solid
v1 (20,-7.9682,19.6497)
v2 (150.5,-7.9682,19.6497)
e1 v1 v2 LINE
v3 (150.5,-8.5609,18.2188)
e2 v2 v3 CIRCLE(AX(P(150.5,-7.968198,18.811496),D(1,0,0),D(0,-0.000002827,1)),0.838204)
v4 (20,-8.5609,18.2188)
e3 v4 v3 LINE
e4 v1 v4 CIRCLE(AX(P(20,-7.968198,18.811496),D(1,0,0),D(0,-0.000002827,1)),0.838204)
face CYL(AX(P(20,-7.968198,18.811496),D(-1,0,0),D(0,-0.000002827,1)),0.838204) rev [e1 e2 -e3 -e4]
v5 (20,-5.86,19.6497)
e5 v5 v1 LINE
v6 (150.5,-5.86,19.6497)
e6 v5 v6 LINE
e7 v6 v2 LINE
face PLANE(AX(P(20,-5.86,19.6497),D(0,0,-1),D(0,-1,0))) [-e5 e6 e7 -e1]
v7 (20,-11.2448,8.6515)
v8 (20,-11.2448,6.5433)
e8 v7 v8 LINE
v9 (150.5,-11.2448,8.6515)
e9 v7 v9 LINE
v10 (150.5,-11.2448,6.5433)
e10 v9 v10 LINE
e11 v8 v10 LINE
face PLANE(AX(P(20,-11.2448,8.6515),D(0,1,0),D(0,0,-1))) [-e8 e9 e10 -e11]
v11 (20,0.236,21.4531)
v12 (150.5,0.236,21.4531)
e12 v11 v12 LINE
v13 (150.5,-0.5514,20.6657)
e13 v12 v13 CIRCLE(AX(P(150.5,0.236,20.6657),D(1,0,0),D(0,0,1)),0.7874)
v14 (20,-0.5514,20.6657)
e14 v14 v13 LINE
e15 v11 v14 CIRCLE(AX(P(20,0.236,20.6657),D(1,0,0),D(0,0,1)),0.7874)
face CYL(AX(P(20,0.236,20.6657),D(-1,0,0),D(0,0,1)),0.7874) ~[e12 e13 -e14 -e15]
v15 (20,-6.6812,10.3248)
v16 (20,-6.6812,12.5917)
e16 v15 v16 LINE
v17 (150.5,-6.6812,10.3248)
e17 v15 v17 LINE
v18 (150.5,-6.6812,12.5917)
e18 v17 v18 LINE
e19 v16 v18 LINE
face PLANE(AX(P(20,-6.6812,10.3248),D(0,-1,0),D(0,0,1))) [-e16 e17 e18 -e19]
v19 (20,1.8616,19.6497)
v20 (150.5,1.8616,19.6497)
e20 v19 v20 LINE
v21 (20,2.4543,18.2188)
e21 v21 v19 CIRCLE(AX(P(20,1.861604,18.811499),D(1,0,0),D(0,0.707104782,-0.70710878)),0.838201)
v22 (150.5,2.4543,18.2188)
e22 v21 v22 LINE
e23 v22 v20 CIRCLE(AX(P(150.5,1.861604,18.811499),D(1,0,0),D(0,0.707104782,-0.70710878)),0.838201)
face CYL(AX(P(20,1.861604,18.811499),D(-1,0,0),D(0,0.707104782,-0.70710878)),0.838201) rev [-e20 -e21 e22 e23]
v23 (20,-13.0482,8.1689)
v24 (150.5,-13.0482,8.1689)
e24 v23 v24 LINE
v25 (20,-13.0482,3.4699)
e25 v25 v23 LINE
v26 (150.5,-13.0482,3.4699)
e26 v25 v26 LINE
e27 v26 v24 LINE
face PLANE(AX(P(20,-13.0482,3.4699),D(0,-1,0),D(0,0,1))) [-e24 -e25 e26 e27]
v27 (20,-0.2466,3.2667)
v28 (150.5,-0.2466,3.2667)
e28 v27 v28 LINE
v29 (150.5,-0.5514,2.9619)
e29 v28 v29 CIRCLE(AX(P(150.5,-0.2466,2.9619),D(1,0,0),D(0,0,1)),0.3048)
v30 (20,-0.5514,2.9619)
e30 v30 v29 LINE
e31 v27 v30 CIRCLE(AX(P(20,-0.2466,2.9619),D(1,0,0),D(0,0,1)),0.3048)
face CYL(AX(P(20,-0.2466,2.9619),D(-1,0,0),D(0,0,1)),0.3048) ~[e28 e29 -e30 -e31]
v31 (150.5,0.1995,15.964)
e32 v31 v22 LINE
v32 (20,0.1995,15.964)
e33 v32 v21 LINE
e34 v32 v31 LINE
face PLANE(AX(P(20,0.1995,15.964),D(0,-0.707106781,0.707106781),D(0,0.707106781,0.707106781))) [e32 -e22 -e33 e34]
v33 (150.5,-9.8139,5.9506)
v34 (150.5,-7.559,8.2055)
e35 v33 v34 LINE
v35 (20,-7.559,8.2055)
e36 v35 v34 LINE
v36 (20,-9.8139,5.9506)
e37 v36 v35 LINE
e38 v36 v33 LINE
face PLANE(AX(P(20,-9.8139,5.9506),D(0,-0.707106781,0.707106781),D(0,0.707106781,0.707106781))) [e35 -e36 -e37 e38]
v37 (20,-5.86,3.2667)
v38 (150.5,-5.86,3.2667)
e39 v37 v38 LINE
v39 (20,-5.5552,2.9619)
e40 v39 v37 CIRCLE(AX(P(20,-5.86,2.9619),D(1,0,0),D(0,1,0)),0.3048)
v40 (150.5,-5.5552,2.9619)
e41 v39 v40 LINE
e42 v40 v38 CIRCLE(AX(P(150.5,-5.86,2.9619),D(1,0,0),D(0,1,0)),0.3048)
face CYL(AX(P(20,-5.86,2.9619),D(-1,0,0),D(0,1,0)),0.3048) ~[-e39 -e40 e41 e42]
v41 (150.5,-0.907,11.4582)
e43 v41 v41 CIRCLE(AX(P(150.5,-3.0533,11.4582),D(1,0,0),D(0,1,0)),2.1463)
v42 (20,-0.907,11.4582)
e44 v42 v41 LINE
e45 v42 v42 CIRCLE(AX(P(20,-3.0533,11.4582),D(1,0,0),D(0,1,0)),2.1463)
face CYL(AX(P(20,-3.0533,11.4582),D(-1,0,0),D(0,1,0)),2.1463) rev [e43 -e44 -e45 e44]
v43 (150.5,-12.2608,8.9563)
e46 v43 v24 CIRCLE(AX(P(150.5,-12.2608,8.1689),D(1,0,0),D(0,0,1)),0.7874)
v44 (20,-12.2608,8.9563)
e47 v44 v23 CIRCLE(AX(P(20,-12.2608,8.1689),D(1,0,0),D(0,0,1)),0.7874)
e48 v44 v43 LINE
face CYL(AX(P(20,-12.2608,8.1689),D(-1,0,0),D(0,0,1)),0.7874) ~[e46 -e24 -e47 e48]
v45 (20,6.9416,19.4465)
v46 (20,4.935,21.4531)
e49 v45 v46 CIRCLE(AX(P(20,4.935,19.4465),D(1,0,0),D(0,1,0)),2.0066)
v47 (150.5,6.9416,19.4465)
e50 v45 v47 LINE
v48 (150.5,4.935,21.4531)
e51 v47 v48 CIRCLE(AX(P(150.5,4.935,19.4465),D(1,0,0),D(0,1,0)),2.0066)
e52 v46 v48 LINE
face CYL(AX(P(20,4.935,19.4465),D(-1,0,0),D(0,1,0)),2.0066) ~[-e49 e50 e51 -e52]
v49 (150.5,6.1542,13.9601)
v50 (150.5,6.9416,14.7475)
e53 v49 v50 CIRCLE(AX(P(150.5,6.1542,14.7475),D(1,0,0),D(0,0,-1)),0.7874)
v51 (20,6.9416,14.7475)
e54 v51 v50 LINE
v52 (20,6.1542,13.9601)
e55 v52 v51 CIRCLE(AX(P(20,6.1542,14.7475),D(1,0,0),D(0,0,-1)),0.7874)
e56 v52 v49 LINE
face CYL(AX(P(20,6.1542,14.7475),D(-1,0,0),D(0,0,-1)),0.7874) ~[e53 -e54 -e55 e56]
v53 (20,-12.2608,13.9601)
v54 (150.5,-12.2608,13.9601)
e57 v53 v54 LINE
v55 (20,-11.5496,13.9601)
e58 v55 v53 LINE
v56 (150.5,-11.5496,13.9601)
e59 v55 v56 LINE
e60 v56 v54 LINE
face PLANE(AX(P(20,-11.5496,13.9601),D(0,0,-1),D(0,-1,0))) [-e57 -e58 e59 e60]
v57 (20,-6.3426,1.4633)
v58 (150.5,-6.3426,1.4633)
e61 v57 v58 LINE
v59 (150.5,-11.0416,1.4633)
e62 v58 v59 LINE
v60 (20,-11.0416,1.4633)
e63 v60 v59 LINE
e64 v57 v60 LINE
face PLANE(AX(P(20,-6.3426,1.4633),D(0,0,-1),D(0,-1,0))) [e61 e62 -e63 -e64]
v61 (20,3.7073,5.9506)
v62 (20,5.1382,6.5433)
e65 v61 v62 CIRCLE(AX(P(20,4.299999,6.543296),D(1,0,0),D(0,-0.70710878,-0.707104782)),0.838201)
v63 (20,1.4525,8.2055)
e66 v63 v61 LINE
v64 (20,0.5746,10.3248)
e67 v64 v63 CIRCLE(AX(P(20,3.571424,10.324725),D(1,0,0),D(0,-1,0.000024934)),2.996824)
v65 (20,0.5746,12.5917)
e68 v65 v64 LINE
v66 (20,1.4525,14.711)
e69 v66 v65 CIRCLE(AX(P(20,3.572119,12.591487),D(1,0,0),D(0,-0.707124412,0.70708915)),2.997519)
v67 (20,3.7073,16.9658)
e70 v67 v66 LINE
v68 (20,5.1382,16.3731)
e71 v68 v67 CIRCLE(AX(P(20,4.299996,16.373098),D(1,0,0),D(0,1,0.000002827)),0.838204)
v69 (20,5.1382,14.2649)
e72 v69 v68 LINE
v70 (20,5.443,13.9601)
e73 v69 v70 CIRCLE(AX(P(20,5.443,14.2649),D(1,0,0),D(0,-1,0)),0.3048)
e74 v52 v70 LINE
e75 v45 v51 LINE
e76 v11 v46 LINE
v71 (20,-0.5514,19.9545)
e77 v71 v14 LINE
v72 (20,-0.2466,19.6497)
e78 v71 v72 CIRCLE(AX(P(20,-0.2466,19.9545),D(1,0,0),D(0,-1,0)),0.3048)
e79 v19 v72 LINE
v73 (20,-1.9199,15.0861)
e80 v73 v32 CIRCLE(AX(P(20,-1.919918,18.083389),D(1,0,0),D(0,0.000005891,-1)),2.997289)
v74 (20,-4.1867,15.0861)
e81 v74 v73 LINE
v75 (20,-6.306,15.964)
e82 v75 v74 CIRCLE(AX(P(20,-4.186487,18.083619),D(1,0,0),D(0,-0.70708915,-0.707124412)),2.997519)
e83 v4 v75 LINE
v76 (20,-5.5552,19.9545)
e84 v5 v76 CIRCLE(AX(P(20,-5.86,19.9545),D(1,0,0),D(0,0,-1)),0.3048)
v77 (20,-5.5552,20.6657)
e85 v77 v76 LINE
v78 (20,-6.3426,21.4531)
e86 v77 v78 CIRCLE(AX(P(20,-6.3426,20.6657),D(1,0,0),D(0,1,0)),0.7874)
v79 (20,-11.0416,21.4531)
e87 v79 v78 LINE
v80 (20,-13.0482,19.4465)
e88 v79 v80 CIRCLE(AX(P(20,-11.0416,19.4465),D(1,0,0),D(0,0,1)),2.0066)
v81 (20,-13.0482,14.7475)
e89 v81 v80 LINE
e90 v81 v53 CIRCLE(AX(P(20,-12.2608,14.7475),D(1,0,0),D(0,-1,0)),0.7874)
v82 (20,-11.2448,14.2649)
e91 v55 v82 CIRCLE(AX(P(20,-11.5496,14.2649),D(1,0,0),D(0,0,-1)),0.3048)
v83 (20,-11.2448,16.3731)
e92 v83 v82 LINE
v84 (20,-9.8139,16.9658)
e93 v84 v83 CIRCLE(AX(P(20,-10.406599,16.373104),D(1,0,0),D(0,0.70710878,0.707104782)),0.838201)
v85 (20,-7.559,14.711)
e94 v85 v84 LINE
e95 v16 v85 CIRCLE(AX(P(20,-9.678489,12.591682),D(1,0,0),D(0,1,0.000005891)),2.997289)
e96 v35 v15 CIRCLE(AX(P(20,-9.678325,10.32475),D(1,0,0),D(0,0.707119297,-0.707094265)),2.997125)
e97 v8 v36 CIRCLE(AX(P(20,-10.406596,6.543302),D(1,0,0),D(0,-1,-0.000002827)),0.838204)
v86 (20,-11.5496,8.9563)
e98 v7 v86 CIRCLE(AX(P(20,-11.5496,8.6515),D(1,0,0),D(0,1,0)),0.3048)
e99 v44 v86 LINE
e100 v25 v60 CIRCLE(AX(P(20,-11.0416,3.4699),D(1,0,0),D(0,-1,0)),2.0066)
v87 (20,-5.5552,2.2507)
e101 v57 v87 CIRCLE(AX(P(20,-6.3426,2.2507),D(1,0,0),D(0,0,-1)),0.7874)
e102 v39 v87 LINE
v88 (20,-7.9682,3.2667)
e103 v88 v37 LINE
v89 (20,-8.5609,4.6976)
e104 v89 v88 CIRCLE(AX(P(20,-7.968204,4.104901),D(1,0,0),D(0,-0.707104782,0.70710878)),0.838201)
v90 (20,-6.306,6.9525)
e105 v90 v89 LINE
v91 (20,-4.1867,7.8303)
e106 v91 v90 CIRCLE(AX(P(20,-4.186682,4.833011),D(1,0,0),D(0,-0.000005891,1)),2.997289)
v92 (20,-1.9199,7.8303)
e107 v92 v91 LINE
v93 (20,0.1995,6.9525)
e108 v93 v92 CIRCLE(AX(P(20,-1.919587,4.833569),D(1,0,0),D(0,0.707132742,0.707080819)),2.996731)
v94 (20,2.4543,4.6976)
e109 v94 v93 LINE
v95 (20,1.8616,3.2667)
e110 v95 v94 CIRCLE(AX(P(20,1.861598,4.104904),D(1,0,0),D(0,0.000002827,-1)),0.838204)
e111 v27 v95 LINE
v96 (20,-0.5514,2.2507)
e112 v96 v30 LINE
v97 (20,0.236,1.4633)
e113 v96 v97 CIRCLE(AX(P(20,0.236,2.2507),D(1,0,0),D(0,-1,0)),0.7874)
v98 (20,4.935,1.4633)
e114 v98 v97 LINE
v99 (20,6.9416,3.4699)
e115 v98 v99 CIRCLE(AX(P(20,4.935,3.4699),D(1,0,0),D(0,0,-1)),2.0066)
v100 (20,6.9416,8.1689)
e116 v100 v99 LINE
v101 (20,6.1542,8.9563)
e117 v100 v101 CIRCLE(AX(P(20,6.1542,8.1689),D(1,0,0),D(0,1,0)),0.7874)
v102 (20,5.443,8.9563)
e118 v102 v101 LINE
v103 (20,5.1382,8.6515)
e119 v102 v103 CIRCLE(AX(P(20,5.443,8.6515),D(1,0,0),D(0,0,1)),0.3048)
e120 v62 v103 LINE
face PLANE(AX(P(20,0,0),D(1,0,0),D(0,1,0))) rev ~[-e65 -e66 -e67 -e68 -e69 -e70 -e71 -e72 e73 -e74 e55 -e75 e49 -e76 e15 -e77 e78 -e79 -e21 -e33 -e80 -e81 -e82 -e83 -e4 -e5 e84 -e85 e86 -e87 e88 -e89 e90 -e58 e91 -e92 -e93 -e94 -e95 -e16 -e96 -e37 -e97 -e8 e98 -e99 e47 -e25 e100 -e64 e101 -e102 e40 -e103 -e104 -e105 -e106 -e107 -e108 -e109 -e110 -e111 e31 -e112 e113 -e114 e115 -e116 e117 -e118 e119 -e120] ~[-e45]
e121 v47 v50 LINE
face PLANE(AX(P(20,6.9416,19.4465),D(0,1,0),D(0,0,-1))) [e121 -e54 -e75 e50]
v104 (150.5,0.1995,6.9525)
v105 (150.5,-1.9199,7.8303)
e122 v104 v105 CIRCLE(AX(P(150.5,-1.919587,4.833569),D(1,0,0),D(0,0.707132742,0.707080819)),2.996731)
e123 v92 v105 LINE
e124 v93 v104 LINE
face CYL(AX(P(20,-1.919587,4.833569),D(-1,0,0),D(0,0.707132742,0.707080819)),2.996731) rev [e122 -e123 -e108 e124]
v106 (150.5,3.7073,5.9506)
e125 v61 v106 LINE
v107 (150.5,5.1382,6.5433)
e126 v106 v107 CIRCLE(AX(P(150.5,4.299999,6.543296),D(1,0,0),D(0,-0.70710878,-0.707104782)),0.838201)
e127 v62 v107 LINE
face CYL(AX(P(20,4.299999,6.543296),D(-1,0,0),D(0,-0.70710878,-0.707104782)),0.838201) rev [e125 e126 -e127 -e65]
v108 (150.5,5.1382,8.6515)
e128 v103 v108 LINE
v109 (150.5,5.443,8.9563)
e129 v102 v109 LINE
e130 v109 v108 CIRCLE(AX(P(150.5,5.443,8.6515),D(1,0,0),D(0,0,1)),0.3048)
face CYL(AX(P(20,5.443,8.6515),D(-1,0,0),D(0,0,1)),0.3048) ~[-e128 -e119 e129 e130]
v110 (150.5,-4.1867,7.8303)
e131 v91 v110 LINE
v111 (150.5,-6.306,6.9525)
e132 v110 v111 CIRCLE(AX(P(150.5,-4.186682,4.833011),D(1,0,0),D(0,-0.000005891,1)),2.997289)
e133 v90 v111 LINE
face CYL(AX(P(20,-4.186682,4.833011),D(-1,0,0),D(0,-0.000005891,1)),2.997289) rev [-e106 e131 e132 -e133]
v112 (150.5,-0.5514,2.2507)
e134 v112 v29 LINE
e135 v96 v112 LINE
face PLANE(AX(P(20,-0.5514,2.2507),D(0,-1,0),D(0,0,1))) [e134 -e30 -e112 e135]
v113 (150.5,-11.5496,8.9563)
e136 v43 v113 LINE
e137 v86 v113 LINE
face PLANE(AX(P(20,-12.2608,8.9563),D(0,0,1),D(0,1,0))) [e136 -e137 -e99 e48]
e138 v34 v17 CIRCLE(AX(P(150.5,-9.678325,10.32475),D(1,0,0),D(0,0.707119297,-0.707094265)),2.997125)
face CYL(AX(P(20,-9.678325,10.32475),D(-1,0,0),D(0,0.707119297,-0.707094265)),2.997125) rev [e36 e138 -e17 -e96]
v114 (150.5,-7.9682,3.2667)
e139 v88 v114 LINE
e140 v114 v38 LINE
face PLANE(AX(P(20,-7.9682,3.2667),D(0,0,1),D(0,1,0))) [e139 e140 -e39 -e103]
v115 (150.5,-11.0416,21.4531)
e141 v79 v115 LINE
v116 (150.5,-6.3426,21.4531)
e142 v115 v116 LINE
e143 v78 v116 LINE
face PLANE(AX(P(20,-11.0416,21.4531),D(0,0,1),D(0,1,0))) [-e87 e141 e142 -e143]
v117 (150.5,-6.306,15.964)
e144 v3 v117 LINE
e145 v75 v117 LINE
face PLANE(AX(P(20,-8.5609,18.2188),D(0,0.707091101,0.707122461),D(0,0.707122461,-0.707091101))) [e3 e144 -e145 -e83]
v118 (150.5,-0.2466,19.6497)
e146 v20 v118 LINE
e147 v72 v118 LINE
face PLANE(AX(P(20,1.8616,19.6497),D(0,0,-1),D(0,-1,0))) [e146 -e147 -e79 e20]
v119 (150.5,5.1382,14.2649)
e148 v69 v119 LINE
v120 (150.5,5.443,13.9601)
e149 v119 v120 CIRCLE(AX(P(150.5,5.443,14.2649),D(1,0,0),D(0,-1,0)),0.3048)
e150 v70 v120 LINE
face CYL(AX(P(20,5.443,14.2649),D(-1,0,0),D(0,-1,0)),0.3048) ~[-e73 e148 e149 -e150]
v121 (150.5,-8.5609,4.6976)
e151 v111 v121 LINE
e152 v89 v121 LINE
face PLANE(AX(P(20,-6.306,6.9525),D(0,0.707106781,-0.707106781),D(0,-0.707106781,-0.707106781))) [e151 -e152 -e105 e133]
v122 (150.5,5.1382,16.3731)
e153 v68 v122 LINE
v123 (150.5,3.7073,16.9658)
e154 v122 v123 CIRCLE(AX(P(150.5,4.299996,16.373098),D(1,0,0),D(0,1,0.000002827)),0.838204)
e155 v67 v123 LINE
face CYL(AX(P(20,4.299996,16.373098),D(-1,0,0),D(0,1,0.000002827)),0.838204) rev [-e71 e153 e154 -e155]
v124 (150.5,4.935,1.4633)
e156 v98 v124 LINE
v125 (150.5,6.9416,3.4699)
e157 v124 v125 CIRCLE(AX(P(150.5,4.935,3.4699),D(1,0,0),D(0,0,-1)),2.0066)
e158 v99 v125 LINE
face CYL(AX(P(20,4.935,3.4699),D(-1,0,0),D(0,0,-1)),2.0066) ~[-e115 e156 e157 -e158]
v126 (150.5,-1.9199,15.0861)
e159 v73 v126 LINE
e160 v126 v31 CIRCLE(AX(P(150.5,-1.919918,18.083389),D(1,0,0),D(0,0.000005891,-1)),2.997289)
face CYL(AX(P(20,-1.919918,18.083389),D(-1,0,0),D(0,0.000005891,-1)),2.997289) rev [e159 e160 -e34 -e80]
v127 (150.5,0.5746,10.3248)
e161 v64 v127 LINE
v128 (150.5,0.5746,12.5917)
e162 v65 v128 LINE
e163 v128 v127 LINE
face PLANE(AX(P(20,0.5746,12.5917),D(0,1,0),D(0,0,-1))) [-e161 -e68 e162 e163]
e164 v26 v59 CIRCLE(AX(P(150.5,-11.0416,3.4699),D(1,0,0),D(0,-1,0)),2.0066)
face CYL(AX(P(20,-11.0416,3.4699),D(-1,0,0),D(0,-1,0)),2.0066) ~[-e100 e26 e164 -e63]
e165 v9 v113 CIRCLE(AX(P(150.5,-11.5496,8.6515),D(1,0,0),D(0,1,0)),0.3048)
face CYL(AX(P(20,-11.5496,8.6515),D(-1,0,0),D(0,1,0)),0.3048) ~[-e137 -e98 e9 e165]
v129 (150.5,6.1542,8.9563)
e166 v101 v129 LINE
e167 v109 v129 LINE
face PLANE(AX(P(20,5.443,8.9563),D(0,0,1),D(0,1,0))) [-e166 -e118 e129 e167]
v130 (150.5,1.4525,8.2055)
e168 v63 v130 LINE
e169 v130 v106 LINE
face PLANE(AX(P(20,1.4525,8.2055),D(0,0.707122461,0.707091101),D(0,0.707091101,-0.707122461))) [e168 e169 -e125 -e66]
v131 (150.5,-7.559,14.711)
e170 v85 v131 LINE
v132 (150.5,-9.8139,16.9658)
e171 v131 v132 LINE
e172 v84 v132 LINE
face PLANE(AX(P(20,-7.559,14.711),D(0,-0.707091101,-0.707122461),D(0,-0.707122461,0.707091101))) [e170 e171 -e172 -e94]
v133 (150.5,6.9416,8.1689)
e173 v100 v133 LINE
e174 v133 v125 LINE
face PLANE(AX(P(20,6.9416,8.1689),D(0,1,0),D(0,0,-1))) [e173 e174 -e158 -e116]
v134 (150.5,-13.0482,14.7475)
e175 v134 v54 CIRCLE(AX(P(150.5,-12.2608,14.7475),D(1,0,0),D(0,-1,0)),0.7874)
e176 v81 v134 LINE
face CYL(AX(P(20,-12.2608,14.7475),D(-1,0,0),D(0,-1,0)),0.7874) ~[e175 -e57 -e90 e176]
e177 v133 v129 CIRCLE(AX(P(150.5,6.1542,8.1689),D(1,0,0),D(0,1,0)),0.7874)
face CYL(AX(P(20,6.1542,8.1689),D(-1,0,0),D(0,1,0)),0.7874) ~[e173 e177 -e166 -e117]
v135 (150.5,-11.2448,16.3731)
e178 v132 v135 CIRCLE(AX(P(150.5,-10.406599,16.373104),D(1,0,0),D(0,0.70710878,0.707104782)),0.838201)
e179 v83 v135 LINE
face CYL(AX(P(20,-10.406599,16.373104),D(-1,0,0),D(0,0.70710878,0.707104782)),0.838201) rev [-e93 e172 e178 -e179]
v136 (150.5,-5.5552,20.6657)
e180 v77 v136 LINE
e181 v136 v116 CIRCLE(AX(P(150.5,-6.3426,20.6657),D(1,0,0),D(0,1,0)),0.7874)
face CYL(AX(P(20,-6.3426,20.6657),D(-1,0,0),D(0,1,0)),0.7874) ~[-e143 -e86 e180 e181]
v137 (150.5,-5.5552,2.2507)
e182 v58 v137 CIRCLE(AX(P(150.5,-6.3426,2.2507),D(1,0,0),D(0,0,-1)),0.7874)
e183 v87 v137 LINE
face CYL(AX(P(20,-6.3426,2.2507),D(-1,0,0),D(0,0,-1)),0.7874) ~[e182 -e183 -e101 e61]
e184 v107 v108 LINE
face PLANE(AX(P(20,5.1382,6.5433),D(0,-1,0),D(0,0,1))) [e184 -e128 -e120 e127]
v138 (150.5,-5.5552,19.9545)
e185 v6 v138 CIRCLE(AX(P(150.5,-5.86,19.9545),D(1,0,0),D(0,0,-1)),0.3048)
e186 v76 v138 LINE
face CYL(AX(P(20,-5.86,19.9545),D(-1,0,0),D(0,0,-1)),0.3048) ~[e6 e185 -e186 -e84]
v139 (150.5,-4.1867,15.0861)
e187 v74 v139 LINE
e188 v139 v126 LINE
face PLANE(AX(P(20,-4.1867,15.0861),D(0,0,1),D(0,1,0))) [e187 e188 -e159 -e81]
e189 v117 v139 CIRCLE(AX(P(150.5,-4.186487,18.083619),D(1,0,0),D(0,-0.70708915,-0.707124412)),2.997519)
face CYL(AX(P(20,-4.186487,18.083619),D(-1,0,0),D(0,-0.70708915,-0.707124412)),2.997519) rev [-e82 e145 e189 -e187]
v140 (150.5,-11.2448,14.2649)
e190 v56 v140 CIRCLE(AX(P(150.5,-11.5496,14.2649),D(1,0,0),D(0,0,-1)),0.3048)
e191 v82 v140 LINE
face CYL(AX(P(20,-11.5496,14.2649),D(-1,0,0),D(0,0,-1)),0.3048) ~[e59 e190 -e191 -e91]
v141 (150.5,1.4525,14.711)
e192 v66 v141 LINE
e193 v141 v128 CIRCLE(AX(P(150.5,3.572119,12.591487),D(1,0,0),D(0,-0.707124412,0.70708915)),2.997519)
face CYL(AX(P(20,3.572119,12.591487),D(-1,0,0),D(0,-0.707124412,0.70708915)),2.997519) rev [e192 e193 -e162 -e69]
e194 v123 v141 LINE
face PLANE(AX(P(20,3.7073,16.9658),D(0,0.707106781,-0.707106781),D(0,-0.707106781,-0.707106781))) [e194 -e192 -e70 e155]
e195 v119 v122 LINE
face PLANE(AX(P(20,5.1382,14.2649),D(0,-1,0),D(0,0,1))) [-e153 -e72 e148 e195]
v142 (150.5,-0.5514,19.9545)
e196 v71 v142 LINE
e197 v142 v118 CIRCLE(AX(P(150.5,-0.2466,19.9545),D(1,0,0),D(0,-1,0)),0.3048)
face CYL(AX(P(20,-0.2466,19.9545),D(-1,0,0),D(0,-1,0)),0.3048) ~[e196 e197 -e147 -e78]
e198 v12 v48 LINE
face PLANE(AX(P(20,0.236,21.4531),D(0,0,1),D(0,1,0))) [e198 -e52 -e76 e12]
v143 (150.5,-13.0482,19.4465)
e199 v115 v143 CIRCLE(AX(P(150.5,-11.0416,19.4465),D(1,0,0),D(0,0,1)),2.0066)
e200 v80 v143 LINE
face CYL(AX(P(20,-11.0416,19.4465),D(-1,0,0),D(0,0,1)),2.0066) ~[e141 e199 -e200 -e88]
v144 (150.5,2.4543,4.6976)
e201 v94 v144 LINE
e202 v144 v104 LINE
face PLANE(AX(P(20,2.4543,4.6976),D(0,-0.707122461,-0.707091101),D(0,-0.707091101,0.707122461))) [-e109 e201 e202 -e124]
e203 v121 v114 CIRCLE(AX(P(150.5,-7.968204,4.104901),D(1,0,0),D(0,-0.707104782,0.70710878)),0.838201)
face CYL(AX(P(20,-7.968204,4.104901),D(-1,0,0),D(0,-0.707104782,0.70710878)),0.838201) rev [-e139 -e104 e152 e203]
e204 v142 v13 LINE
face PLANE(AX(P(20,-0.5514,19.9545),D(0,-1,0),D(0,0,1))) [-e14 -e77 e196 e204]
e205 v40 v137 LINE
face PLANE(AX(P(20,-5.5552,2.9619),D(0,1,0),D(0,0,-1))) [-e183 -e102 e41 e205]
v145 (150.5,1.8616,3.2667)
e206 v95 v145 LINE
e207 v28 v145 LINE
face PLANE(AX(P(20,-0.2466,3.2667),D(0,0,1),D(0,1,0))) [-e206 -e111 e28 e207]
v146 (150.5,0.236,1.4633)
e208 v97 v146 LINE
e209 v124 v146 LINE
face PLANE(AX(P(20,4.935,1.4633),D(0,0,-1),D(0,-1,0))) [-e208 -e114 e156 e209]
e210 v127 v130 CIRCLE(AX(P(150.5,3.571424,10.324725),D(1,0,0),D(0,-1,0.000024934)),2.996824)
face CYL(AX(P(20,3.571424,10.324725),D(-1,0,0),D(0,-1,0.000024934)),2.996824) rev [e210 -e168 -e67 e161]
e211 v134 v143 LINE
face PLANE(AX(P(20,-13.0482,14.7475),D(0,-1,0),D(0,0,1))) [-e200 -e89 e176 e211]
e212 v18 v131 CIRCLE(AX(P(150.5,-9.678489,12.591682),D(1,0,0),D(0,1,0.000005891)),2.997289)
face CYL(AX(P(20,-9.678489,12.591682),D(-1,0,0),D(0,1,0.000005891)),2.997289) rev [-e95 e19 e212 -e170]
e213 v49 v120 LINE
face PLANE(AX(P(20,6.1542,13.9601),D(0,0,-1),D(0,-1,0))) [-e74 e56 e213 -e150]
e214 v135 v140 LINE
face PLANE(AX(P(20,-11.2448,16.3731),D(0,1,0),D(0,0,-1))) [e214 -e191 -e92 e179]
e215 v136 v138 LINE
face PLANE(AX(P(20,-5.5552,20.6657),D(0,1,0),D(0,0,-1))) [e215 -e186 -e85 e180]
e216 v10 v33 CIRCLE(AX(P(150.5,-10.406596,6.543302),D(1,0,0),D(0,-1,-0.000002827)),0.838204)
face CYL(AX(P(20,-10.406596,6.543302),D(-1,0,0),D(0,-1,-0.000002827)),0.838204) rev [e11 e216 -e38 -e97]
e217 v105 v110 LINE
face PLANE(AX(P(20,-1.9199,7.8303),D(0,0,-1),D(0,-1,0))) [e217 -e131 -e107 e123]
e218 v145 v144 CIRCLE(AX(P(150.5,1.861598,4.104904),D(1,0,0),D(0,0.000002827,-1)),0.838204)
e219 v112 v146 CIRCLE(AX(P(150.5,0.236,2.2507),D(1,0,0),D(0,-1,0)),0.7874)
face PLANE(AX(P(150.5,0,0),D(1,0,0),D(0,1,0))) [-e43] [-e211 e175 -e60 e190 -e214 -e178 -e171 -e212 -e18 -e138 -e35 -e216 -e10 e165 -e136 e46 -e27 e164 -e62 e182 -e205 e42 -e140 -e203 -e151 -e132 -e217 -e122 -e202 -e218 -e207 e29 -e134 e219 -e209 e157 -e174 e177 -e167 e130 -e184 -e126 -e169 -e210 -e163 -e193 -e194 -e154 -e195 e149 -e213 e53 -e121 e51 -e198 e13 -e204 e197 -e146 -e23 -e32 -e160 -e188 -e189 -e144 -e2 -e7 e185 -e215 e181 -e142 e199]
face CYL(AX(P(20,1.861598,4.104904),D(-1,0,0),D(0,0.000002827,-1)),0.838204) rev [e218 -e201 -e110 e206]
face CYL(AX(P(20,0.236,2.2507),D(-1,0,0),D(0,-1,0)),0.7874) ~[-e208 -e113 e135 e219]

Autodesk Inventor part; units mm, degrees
ref_plane "XZ Plane" through (0, 0, 0) normal (0, 1, 0) x (-1, 0, 0)
ref_plane "Start Plane" through (20, 0, 0) normal (1, 0, 0) x (0, 1, 0)
ref_plane "End Plane" through (150.5, 0, 0) normal (1, 0, 0) x (0, 1, 0)
sketch "Sketch" plane through (0, 0, 0) normal (1, 0, 0) x (0, 1, 0)
  circle A0 centre (-3.0533, 11.4582) radius 2.1463
  line L0 (2.4543, 4.6976) -> (0.1995, 6.9525)
  arc A1 (1.8616, 3.2667) -> (2.4543, 4.6976) centre (1.8616, 4.1049) ccw
  line L1 (-0.2466, 3.2667) -> (1.8616, 3.2667)
  arc A2 (-0.2466, 3.2667) -> (-0.5514, 2.9619) centre (-0.2466, 2.9619) ccw
  line L2 (-0.5514, 2.2507) -> (-0.5514, 2.9619)
  arc A3 (-0.5514, 2.2507) -> (0.236, 1.4633) centre (0.236, 2.2507) ccw
  line L3 (4.935, 1.4633) -> (0.236, 1.4633)
  arc A4 (4.935, 1.4633) -> (6.9416, 3.4699) centre (4.935, 3.4699) ccw
  line L4 (6.9416, 8.1689) -> (6.9416, 3.4699)
  arc A5 (6.9416, 8.1689) -> (6.1542, 8.9563) centre (6.1542, 8.1689) ccw
  line L5 (5.443, 8.9563) -> (6.1542, 8.9563)
  arc A6 (5.443, 8.9563) -> (5.1382, 8.6515) centre (5.443, 8.6515) ccw
  line L6 (5.1382, 6.5433) -> (5.1382, 8.6515)
  arc A7 (3.7073, 5.9506) -> (5.1382, 6.5433) centre (4.3, 6.5433) ccw
  line L7 (1.4525, 8.2055) -> (3.7073, 5.9506)
  arc A8 (0.5746, 10.3248) -> (1.4525, 8.2055) centre (3.5718, 10.3248) ccw
  line L8 (0.5746, 12.5917) -> (0.5746, 10.3248)
  arc A9 (1.4525, 14.711) -> (0.5746, 12.5917) centre (3.5718, 12.5917) ccw
  line L9 (3.7073, 16.9658) -> (1.4525, 14.711)
  arc A10 (5.1382, 16.3731) -> (3.7073, 16.9658) centre (4.3, 16.3731) ccw
  line L10 (5.1382, 14.2649) -> (5.1382, 16.3731)
  arc A11 (5.1382, 14.2649) -> (5.443, 13.9601) centre (5.443, 14.2649) ccw
  line L11 (6.1542, 13.9601) -> (5.443, 13.9601)
  arc A12 (6.1542, 13.9601) -> (6.9416, 14.7475) centre (6.1542, 14.7475) ccw
  line L12 (6.9416, 19.4465) -> (6.9416, 14.7475)
  arc A13 (6.9416, 19.4465) -> (4.935, 21.4531) centre (4.935, 19.4465) ccw
  line L13 (0.236, 21.4531) -> (4.935, 21.4531)
  arc A14 (0.236, 21.4531) -> (-0.5514, 20.6657) centre (0.236, 20.6657) ccw
  line L14 (-0.5514, 19.9545) -> (-0.5514, 20.6657)
  arc A15 (-0.5514, 19.9545) -> (-0.2466, 19.6497) centre (-0.2466, 19.9545) ccw
  line L15 (1.8616, 19.6497) -> (-0.2466, 19.6497)
  arc A16 (2.4543, 18.2188) -> (1.8616, 19.6497) centre (1.8616, 18.8115) ccw
  line L16 (0.1995, 15.964) -> (2.4543, 18.2188)
  arc A17 (-1.9199, 15.0861) -> (0.1995, 15.964) centre (-1.9199, 18.0833) ccw
  line L17 (-4.1867, 15.0861) -> (-1.9199, 15.0861)
  arc A18 (-6.306, 15.964) -> (-4.1867, 15.0861) centre (-4.1867, 18.0833) ccw
  line L18 (-8.5609, 18.2188) -> (-6.306, 15.964)
  arc A19 (-7.9682, 19.6497) -> (-8.5609, 18.2188) centre (-7.9682, 18.8115) ccw
  line L19 (-5.86, 19.6497) -> (-7.9682, 19.6497)
  arc A20 (-5.86, 19.6497) -> (-5.5552, 19.9545) centre (-5.86, 19.9545) ccw
  line L20 (-5.5552, 20.6657) -> (-5.5552, 19.9545)
  arc A21 (-5.5552, 20.6657) -> (-6.3426, 21.4531) centre (-6.3426, 20.6657) ccw
  line L21 (-11.0416, 21.4531) -> (-6.3426, 21.4531)
  arc A22 (-11.0416, 21.4531) -> (-13.0482, 19.4465) centre (-11.0416, 19.4465) ccw
  line L22 (-13.0482, 14.7475) -> (-13.0482, 19.4465)
  arc A23 (-13.0482, 14.7475) -> (-12.2608, 13.9601) centre (-12.2608, 14.7475) ccw
  line L23 (-11.5496, 13.9601) -> (-12.2608, 13.9601)
  arc A24 (-11.5496, 13.9601) -> (-11.2448, 14.2649) centre (-11.5496, 14.2649) ccw
  line L24 (-11.2448, 16.3731) -> (-11.2448, 14.2649)
  arc A25 (-9.8139, 16.9658) -> (-11.2448, 16.3731) centre (-10.4066, 16.3731) ccw
  line L25 (-7.559, 14.711) -> (-9.8139, 16.9658)
  arc A26 (-6.6812, 12.5917) -> (-7.559, 14.711) centre (-9.6784, 12.5917) ccw
  line L26 (-6.6812, 10.3248) -> (-6.6812, 12.5917)
  arc A27 (-7.559, 8.2055) -> (-6.6812, 10.3248) centre (-9.6784, 10.3248) ccw
  line L27 (-9.8139, 5.9506) -> (-7.559, 8.2055)
  arc A28 (-11.2448, 6.5433) -> (-9.8139, 5.9506) centre (-10.4066, 6.5433) ccw
  line L28 (-11.2448, 8.6515) -> (-11.2448, 6.5433)
  arc A29 (-11.2448, 8.6515) -> (-11.5496, 8.9563) centre (-11.5496, 8.6515) ccw
  line L29 (-12.2608, 8.9563) -> (-11.5496, 8.9563)
  arc A30 (-12.2608, 8.9563) -> (-13.0482, 8.1689) centre (-12.2608, 8.1689) ccw
  line L30 (-13.0482, 3.4699) -> (-13.0482, 8.1689)
  arc A31 (-13.0482, 3.4699) -> (-11.0416, 1.4633) centre (-11.0416, 3.4699) ccw
  line L31 (-6.3426, 1.4633) -> (-11.0416, 1.4633)
  arc A32 (-6.3426, 1.4633) -> (-5.5552, 2.2507) centre (-6.3426, 2.2507) ccw
  line L32 (-5.5552, 2.9619) -> (-5.5552, 2.2507)
  arc A33 (-5.5552, 2.9619) -> (-5.86, 3.2667) centre (-5.86, 2.9619) ccw
  line L33 (-7.9682, 3.2667) -> (-5.86, 3.2667)
  arc A34 (-8.5609, 4.6976) -> (-7.9682, 3.2667) centre (-7.9682, 4.1049) ccw
  line L34 (-6.306, 6.9525) -> (-8.5609, 4.6976)
  arc A35 (-4.1867, 7.8303) -> (-6.306, 6.9525) centre (-4.1867, 4.8331) ccw
  line L35 (-1.9199, 7.8303) -> (-4.1867, 7.8303)
  arc A36 (0.1995, 6.9525) -> (-1.9199, 7.8303) centre (-1.9199, 4.8331) ccw
  point P0 (0, 0)
extrude "Body" add sketch "Sketch" along normal up to surface (130.5 mm away) from surface at 20
sketch "Sketch2" plane through (0, 0, 0) normal (1, 0, 0) x (0, 1, 0)
  line L0 (0, 0) -> (10, 0)
ref_plane "Work Plane3" through (0, 0, 0) normal (0, 0, -1) x (0, 1, 0)
sketch "Sketch3" plane through (0, 0, 0) normal (0, 0, -1) x (0, 1, 0)
  line L0 (-2, 20) -> (12, 20)
  line L1 (-2, 150.5) -> (12, 150.5)
  dimension "d7" = 130.5
equation "\"G_OFFSET_START\" = -20"
equation "\"G_OFFSET_END\" = -20"
equation "\"d2\" = -G_OFFSET_START"
equation "\"d3\" = length + G_OFFSET_END"
equation "\"G_L\" = d7"
equation "\"length\" = 170.5"
properties part number "Generic-1"
